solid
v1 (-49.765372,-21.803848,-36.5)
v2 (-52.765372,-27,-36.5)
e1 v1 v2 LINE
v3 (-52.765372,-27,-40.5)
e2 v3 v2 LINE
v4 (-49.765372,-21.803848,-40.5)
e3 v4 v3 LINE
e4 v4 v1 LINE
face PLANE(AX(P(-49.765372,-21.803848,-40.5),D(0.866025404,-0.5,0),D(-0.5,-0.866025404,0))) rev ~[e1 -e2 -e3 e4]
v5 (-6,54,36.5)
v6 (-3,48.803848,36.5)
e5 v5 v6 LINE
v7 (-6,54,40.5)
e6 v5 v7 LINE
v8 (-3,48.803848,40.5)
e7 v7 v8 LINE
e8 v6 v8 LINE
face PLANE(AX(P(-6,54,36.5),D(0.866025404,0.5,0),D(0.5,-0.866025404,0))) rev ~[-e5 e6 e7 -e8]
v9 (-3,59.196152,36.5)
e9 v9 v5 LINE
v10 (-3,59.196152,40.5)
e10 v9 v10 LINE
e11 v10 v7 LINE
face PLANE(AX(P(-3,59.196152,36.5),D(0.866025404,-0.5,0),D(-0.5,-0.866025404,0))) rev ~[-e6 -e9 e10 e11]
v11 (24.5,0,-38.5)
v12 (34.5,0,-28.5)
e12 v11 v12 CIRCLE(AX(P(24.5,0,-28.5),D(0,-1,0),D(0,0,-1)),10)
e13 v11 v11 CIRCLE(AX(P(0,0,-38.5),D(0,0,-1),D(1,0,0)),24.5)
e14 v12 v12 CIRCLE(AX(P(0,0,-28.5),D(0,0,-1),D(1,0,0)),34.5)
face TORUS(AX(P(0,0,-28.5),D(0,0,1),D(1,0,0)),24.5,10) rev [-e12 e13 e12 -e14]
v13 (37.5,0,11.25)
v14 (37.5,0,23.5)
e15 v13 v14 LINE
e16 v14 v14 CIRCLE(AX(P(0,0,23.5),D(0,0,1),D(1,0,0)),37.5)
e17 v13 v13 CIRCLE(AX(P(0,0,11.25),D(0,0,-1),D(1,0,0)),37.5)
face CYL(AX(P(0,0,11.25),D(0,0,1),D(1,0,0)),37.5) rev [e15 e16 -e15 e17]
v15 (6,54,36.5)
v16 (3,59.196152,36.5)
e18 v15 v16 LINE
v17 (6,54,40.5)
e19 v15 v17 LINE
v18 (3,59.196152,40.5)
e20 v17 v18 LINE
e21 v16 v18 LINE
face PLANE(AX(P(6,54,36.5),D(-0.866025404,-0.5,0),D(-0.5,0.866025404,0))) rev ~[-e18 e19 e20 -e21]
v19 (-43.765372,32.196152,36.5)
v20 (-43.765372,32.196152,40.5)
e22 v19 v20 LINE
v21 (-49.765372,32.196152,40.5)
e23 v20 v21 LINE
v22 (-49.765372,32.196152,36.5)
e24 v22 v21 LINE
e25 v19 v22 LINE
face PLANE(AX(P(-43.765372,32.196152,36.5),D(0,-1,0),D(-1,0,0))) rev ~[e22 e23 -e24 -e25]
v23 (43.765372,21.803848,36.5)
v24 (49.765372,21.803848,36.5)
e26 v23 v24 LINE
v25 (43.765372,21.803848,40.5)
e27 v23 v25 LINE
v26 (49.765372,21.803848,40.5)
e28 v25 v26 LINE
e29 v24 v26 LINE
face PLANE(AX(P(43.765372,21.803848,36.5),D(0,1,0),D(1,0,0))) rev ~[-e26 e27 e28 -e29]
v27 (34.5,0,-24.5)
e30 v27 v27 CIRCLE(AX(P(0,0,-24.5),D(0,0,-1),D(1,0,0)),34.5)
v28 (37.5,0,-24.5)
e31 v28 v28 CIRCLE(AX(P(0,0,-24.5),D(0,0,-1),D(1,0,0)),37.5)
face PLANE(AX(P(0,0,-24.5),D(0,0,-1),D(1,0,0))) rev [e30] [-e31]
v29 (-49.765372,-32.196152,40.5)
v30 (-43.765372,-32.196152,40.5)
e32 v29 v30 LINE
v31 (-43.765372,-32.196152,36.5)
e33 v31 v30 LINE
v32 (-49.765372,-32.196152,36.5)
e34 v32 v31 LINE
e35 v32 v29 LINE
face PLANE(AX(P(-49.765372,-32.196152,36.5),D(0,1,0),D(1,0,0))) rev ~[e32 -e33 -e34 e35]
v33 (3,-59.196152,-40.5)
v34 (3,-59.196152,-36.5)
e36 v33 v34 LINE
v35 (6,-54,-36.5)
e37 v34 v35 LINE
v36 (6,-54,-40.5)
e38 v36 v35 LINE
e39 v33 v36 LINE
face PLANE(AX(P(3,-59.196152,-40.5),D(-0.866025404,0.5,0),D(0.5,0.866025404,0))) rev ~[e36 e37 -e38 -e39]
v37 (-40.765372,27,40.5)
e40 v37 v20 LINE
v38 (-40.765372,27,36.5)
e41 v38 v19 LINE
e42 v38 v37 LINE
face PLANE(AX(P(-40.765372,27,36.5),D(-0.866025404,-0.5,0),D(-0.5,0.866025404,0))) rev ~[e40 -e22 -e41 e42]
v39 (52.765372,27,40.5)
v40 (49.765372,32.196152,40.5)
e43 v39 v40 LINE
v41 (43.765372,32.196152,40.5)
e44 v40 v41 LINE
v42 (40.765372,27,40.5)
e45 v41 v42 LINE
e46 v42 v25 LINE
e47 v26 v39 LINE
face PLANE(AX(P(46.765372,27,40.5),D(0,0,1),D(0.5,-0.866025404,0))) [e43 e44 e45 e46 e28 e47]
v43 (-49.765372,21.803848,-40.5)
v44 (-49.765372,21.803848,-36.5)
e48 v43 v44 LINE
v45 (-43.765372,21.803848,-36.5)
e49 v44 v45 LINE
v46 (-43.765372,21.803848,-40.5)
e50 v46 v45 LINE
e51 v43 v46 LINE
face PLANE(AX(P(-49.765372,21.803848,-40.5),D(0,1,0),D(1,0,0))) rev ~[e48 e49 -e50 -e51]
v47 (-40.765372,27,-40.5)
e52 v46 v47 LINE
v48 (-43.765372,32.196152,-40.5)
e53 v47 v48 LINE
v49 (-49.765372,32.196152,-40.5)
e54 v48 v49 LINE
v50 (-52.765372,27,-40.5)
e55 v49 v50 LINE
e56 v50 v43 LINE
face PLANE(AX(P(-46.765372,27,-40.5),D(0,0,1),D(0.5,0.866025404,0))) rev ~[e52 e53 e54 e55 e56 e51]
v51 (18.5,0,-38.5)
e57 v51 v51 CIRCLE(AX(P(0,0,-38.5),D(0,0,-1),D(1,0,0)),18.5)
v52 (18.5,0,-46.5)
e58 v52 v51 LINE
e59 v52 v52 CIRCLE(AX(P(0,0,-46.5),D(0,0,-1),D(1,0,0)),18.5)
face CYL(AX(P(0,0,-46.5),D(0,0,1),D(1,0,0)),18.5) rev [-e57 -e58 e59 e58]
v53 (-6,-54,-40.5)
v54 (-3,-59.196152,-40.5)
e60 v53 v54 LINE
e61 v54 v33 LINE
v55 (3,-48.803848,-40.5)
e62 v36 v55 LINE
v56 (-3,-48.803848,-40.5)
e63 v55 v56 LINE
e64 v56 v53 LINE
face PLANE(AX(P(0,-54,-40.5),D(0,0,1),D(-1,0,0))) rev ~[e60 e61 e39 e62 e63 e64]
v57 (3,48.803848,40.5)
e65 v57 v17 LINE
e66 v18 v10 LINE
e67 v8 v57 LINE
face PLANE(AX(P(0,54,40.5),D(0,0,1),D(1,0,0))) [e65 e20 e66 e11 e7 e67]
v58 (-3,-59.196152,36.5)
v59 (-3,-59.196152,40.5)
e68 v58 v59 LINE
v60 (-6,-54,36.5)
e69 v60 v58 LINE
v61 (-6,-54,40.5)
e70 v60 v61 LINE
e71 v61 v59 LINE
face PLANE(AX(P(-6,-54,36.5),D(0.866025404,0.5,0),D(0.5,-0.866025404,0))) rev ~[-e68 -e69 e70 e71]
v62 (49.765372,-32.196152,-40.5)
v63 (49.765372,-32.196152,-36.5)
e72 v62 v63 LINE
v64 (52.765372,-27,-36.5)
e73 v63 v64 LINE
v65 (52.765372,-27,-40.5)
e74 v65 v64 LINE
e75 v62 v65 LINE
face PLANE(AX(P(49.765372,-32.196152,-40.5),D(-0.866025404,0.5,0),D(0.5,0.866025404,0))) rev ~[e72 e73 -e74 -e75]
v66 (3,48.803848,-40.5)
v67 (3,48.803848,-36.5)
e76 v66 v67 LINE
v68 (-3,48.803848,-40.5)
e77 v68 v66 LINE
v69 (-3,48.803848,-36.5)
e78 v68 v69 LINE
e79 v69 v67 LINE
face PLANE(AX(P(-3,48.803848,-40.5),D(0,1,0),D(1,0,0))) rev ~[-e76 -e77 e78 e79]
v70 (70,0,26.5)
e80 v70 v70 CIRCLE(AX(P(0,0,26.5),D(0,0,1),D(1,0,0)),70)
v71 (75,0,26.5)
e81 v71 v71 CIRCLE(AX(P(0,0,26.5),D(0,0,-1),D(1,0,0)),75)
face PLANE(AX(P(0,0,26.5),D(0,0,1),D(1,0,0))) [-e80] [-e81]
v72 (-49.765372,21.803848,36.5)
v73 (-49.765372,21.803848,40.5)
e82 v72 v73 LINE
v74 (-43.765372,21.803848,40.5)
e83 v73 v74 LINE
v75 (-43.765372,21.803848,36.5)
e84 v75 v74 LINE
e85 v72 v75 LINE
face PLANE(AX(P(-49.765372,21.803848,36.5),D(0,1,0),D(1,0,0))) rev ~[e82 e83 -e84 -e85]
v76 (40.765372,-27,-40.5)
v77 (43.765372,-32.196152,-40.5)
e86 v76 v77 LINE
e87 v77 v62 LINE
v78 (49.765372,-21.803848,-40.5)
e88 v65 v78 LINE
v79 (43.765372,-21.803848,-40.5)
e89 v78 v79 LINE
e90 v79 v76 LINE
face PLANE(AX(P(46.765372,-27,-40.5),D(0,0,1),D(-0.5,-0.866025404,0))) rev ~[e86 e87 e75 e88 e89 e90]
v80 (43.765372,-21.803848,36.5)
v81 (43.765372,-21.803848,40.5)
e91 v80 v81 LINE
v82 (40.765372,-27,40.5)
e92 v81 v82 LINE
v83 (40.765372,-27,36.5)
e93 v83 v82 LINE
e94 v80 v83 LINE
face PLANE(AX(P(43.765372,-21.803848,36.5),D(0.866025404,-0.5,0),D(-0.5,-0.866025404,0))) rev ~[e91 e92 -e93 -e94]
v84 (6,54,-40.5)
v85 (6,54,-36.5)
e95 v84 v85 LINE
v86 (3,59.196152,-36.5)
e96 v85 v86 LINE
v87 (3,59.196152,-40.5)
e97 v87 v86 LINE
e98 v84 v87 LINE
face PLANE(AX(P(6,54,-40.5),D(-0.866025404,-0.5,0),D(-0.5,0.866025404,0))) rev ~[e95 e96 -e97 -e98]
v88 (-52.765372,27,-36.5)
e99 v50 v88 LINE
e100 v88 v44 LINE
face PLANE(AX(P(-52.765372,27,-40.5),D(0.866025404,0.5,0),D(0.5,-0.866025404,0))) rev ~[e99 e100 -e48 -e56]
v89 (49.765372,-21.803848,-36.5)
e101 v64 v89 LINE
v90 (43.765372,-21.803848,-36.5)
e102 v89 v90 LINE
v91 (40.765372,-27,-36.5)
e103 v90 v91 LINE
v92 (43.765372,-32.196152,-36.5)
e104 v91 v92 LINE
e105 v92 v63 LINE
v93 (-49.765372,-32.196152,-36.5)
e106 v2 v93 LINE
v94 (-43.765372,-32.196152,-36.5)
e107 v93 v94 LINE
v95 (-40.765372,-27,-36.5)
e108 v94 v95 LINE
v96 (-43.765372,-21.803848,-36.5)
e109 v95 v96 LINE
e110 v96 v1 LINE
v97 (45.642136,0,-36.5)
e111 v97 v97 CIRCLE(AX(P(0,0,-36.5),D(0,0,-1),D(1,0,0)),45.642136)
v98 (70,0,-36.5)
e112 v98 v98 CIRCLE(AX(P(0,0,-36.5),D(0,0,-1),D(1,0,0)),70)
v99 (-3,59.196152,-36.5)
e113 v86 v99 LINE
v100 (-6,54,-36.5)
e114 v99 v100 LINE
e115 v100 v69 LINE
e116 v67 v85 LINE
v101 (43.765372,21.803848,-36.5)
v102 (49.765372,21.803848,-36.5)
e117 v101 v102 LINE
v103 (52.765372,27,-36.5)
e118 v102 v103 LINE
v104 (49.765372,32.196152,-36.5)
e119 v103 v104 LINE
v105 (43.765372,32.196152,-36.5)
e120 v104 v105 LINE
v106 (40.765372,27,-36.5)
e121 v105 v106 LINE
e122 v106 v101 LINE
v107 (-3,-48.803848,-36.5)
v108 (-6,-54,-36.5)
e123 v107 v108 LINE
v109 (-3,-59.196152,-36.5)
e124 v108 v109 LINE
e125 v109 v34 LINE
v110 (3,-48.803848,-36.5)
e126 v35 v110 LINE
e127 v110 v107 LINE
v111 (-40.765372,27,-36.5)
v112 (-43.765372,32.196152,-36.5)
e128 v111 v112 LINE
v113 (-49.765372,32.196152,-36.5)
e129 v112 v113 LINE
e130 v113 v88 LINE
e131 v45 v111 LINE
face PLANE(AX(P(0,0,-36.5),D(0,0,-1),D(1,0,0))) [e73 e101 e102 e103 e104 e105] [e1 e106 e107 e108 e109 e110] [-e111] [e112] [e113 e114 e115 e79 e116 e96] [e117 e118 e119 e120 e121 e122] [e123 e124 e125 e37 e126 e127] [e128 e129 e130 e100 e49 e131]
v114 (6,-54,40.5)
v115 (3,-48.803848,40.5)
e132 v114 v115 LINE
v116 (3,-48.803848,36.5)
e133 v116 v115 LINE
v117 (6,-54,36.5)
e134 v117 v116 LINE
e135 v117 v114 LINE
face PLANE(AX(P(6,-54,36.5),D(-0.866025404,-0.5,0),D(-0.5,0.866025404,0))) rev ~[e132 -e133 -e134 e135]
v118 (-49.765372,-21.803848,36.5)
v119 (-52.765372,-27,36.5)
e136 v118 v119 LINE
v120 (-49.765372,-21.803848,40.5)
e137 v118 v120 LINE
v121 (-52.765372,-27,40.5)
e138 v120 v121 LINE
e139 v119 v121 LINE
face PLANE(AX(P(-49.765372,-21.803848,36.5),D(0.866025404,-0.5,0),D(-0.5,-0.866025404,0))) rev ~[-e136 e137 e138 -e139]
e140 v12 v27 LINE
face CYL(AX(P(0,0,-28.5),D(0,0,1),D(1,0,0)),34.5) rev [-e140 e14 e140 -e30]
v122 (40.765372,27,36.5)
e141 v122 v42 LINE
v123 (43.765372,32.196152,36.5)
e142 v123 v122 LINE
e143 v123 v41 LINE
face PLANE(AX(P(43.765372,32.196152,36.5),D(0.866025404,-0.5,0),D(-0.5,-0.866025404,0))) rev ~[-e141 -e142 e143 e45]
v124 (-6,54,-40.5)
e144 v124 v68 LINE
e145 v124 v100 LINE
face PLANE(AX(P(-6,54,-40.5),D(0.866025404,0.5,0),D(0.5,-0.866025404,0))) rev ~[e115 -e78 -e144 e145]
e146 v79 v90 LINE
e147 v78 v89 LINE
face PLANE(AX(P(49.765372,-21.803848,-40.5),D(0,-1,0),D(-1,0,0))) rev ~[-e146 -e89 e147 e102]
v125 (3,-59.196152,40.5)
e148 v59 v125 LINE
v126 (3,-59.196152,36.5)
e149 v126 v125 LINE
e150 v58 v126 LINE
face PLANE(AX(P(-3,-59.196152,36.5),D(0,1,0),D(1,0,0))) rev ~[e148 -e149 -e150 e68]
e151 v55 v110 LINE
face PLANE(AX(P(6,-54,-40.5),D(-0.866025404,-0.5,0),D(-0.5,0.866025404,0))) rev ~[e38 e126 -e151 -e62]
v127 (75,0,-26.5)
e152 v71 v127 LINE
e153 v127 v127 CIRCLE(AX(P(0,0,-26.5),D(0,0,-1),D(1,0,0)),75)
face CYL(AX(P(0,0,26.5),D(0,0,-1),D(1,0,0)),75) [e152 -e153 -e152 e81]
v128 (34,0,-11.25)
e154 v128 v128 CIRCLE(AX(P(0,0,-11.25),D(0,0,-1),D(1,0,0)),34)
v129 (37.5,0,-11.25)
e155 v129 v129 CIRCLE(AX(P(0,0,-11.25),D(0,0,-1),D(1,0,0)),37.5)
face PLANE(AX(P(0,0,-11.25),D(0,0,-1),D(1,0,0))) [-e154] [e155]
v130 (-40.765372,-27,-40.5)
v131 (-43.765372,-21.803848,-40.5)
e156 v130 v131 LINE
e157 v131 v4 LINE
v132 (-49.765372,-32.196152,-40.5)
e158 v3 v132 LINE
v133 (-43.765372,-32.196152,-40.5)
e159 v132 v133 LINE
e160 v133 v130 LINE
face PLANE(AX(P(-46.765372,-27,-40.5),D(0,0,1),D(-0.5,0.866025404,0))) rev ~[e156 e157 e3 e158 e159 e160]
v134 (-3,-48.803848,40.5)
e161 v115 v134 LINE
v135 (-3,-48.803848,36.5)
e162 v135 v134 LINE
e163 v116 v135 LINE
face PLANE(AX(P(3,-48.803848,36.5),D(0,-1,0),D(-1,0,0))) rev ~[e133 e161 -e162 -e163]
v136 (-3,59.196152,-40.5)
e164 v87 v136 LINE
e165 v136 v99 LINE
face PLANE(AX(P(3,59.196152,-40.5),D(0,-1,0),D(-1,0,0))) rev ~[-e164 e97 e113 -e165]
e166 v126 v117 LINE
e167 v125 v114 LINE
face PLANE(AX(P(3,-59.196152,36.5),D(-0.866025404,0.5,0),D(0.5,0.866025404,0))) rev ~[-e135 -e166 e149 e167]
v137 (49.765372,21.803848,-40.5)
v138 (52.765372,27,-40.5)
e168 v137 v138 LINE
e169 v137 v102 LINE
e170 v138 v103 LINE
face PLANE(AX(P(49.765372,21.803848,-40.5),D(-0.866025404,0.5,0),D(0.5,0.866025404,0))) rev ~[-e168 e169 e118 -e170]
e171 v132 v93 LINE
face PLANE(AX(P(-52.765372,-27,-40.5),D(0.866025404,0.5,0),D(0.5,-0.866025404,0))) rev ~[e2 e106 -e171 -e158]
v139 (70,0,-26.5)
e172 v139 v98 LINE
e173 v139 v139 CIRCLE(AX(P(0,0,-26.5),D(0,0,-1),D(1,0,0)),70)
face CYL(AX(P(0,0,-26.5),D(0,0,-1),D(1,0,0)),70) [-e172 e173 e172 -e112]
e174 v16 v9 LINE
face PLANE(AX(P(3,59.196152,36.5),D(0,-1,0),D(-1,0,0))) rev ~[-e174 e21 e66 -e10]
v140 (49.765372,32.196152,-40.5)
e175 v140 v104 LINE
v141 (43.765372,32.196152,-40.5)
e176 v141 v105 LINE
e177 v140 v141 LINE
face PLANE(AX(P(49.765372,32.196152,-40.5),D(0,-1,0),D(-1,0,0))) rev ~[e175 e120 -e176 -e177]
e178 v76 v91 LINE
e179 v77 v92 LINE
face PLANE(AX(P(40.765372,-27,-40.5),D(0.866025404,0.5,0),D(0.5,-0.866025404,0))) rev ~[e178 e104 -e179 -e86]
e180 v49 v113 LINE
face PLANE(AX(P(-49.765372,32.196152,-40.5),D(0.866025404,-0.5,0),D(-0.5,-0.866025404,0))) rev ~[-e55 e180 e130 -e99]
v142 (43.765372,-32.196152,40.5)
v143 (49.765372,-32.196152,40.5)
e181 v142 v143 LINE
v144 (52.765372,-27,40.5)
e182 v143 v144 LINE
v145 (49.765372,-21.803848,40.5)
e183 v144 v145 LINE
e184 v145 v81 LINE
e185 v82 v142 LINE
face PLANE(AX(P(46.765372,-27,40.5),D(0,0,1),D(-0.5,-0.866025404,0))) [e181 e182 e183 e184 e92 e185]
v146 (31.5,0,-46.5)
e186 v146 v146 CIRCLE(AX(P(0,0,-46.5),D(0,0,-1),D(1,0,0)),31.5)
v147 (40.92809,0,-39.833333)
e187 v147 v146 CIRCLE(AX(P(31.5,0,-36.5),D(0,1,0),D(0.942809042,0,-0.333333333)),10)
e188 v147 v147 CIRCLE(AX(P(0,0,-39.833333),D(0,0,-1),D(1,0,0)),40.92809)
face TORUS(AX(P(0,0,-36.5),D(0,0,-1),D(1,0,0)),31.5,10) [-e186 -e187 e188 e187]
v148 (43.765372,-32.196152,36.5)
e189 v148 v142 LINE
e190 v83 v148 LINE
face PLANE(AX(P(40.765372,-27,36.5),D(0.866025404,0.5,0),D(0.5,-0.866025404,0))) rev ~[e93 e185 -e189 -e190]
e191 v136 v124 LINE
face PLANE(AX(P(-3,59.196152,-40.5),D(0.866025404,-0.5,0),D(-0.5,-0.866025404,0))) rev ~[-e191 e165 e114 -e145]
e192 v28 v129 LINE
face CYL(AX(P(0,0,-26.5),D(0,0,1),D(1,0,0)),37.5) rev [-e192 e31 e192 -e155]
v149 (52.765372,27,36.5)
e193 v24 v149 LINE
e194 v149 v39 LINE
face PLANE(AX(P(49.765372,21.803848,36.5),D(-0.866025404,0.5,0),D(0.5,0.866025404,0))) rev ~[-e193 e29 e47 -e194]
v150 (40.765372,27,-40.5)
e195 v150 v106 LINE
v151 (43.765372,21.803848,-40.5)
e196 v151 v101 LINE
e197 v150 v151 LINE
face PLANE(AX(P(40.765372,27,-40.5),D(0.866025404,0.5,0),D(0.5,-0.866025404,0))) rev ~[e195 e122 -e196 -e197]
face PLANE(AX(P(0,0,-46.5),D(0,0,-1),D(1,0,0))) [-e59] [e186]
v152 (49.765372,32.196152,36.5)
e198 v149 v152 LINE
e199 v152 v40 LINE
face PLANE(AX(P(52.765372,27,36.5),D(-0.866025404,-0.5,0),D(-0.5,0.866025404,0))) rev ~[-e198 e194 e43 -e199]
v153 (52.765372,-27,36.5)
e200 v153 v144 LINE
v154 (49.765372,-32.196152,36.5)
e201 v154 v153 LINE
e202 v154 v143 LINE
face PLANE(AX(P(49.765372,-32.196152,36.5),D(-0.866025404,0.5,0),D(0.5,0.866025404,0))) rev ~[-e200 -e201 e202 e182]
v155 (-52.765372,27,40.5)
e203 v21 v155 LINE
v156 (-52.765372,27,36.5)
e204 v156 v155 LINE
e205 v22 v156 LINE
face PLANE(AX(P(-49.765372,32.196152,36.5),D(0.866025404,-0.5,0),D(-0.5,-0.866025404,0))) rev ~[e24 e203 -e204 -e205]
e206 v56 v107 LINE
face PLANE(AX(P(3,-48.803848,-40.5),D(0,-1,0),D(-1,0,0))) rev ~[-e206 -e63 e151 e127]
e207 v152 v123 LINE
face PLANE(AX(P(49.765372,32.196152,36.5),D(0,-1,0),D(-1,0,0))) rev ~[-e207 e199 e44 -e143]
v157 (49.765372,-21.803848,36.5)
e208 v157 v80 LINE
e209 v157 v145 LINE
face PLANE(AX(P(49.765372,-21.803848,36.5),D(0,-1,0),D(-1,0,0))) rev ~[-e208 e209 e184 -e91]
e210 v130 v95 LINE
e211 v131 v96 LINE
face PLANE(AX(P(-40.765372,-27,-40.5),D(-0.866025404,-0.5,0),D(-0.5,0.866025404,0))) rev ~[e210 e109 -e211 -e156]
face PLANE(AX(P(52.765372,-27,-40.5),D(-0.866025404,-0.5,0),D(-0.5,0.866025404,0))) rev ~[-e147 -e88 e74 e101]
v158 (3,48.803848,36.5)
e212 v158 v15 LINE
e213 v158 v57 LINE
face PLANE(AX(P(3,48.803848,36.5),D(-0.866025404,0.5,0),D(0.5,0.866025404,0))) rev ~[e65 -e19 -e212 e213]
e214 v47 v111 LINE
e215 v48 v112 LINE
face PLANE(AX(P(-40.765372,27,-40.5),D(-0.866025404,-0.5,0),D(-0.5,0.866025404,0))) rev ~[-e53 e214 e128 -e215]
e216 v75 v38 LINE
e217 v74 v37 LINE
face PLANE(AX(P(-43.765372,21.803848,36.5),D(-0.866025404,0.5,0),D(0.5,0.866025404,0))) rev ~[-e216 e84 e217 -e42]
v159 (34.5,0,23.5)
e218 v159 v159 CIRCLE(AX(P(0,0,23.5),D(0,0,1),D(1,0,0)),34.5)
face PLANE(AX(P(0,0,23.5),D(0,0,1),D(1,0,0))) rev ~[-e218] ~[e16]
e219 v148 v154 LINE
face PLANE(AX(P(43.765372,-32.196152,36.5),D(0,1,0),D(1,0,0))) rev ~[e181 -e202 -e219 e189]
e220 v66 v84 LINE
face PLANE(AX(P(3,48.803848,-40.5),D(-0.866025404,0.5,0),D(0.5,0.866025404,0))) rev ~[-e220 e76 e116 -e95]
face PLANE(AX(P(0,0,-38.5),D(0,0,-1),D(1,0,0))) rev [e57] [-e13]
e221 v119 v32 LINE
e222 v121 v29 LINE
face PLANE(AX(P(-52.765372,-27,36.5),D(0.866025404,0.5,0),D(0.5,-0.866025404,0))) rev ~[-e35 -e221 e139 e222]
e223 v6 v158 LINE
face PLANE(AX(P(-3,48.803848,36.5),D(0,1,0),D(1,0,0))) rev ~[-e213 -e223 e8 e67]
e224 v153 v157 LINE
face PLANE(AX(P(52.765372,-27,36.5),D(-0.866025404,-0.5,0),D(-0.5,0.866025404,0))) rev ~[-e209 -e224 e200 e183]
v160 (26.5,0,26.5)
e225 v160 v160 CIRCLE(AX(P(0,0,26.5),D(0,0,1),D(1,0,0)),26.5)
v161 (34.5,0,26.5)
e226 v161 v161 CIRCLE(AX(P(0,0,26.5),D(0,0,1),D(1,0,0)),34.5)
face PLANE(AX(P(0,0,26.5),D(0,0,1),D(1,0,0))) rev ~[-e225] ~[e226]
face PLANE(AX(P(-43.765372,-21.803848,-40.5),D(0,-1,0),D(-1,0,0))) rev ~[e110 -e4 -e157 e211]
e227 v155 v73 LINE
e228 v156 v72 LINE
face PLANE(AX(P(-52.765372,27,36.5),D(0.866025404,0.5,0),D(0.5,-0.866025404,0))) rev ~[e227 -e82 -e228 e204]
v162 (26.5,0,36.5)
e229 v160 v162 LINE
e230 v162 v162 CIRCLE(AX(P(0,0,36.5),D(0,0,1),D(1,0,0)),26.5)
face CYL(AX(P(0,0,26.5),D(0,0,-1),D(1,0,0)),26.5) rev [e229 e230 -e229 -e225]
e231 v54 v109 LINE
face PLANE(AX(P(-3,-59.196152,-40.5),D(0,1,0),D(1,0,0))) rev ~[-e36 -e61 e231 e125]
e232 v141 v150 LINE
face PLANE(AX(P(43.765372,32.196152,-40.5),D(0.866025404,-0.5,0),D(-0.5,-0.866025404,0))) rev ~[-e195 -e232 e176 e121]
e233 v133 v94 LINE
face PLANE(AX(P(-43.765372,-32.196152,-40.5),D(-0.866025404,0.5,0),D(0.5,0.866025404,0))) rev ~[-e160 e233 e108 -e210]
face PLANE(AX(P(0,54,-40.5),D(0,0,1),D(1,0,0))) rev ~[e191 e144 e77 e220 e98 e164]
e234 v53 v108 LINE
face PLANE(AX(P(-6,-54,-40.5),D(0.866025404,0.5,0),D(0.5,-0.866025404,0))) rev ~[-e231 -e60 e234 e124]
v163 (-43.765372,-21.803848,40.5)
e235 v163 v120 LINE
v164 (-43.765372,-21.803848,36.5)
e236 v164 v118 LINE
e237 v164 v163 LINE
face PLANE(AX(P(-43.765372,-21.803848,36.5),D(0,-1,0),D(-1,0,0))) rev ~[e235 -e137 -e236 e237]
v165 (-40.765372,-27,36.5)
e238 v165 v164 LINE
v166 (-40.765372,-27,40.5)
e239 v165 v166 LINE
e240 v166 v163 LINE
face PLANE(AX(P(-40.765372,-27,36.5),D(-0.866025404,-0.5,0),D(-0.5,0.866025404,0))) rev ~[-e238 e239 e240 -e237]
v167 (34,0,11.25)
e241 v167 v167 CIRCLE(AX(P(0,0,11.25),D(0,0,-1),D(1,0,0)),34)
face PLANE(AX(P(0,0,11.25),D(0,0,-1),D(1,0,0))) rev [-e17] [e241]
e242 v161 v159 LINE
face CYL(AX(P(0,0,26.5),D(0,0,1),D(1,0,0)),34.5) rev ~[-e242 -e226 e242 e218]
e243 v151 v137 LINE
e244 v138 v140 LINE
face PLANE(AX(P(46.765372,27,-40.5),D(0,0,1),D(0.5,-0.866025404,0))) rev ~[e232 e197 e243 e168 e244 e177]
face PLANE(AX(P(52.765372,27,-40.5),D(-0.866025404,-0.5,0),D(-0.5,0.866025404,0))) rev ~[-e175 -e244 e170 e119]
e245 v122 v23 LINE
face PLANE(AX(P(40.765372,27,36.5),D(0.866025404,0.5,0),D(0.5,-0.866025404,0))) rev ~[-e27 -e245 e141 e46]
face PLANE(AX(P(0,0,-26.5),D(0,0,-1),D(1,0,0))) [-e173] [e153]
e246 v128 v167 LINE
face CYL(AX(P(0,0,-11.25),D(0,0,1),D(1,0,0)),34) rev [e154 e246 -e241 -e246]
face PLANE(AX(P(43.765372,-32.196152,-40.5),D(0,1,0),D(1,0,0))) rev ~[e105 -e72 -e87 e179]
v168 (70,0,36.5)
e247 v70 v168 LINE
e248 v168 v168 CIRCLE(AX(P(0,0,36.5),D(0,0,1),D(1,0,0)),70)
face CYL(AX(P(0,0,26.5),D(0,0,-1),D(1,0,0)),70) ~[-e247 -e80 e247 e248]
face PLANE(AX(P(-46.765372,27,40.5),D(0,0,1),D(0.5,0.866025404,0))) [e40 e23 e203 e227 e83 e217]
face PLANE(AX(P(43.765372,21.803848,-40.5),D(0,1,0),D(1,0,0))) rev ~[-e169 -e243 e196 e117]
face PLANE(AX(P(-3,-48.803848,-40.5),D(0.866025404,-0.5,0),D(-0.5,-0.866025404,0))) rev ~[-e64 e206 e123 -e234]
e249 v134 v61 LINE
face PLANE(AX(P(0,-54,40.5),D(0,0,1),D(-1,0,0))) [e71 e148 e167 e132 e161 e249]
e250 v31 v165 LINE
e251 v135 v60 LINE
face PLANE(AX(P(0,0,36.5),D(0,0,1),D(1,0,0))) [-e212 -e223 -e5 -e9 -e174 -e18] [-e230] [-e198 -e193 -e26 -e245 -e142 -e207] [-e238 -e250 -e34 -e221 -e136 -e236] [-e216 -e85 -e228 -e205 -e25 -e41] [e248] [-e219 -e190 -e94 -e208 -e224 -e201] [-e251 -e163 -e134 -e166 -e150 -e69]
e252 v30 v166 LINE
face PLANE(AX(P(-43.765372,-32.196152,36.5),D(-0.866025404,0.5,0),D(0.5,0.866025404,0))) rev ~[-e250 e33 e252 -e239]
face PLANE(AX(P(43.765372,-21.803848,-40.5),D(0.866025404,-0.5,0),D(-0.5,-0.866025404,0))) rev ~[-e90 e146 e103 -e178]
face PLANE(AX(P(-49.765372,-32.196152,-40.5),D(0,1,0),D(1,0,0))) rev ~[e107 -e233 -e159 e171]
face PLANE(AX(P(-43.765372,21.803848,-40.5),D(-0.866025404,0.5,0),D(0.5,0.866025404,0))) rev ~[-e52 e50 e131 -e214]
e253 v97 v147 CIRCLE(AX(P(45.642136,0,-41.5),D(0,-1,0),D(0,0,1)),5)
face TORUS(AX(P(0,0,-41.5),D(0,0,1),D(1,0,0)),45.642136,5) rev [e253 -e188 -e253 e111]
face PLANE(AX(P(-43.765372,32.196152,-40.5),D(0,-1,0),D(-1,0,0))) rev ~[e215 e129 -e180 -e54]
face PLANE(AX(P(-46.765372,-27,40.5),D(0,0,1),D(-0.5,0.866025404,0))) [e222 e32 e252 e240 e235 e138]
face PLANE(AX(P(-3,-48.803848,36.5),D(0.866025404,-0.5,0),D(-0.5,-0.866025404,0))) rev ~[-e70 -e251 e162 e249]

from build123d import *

# Parameters (mm, degrees)
SKETCH_2_R                    = 37.5
SKETCH_2_R_2                  = 34.5
EXTRUDE_1_DEPTH               = 3
SKETCH_3_R                    = 70
SKETCH_3_R_2                  = 26.5
EXTRUDE_2_DEPTH               = 10
EXTRUDE_3_DEPTH               = 4
PATTERN_CIRCULAR_1_COUNT      = 6
PATTERN_LINEAR_1_COUNT        = 2
PATTERN_LINEAR_1_PITCH        = 77
PATTERN_LINEAR_1_COPY_1_DEPTH = 4
PATTERN_LINEAR_1_COPY_2_DEPTH = 4
PATTERN_LINEAR_1_COPY_3_DEPTH = 4
PATTERN_LINEAR_1_COPY_4_DEPTH = 4
PATTERN_LINEAR_1_COPY_5_DEPTH = 4


with BuildPart() as part:
    # 草图1 → 旋转1 (revolve)
    with BuildSketch(Plane(origin=(0, 0, 0), x_dir=(1, 0, 0), z_dir=(0, 1, 0))):
        Polygon((37.5, 26.5), (37.5, 11.25), (34, 11.25), (34, -11.25), (37.5, -11.25), (37.5, -26.5), (75, -26.5), (75, 26.5), align=None)
    revolve(axis=Axis((0, 0, 1000), (0, 0, -1)))

    # 草图2 → 凸台-拉伸1 (add)
    with BuildSketch(Plane.XY.offset(26.5)):
        Circle(SKETCH_2_R)
        Circle(SKETCH_2_R_2, mode=Mode.SUBTRACT)
    extrude(amount=-EXTRUDE_1_DEPTH)

    # 草图3 → 凸台-拉伸2 (add)
    with BuildSketch(Plane.XY.offset(26.5)):
        Circle(SKETCH_3_R)
        Circle(SKETCH_3_R_2, mode=Mode.SUBTRACT)
    extrude(amount=EXTRUDE_2_DEPTH)

    # 草图4 → 旋转2 (revolve)
    with BuildSketch(Plane(origin=(0, 0, 0), x_dir=(0, 0, -1), z_dir=(1, 0, 0)), mode=Mode.PRIVATE) as revolve_2_sk:
        with BuildLine():
            Line((26.5, 37.5), (26.5, 70))
            Line((26.5, 70), (36.5, 70))
            Line((36.5, 70), (36.5, 45.642135624))
            ThreePointArc((36.5, 45.642135624), (37.417517095, 42.755384278), (39.833333333, 40.928090416))
            ThreePointArc((39.833333333, 40.928090416), (44.664965809, 37.273502692), (46.5, 31.5))
            Line((46.5, 31.5), (46.5, 18.5))
            Line((46.5, 18.5), (38.5, 18.5))
            Line((38.5, 18.5), (38.5, 24.5))
            ThreePointArc((38.5, 24.5), (35.571067812, 31.571067812), (28.5, 34.5))
            Line((28.5, 34.5), (24.5, 34.5))
            Line((24.5, 34.5), (24.5, 37.5))
            Line((24.5, 37.5), (26.5, 37.5))
        make_face()
    revolve(revolve_2_sk.sketch.rotate(Axis((0, 0, 1000), (0, 0, -1)), 90), axis=Axis((0, 0, 1000), (0, 0, -1)))

    # 草图5 → 凸台-拉伸3 (add)
    with BuildSketch(Plane.XY.offset(36.5)):
        Polygon((3, 48.803847577), (6, 54), (3, 59.196152423), (-3, 59.196152423), (-6, 54), (-3, 48.803847577), align=None)
    extrude_3 = extrude(amount=EXTRUDE_3_DEPTH)

    # 阵列(圆周)1: 凸台-拉伸3 ×6 about axis
    pattern_circular_1_axis = Axis((0, 0, 0), (0, 0, 1))
    for i in range(1, PATTERN_CIRCULAR_1_COUNT):
        add(extrude_3.rotate(pattern_circular_1_axis, i * 360 / PATTERN_CIRCULAR_1_COUNT))

    # 阵列(线性)1: 凸台-拉伸3 ×2
    with Locations(*[(0, 0, -i * PATTERN_LINEAR_1_PITCH) for i in range(1, PATTERN_LINEAR_1_COUNT)]):
        add(extrude_3)

    # 阵列(线性)1 copy 1 sketch → 阵列(线性)1 copy 1 (add)
    with BuildSketch(Plane(origin=(0, 0, -40.5), x_dir=(0.5000000000000001, 0.8660254037844386, 0), z_dir=(0, 0, 1))):
        Polygon((3, 48.803847577), (6, 54), (3, 59.196152423), (-3, 59.196152423), (-6, 54), (-3, 48.803847577), align=None)
    extrude(amount=PATTERN_LINEAR_1_COPY_1_DEPTH)

    # 阵列(线性)1 copy 2 sketch → 阵列(线性)1 copy 2 (add)
    with BuildSketch(Plane(origin=(0, 0, -40.5), x_dir=(-0.4999999999999998, 0.8660254037844387, 0), z_dir=(0, 0, 1))):
        Polygon((3, 48.803847577), (6, 54), (3, 59.196152423), (-3, 59.196152423), (-6, 54), (-3, 48.803847577), align=None)
    extrude(amount=PATTERN_LINEAR_1_COPY_2_DEPTH)

    # 阵列(线性)1 copy 3 sketch → 阵列(线性)1 copy 3 (add)
    with BuildSketch(Plane(origin=(0, 0, -40.5), x_dir=(-1, 0, 0), z_dir=(0, 0, 1))):
        Polygon((3, 48.803847577), (6, 54), (3, 59.196152423), (-3, 59.196152423), (-6, 54), (-3, 48.803847577), align=None)
    extrude(amount=PATTERN_LINEAR_1_COPY_3_DEPTH)

    # 阵列(线性)1 copy 4 sketch → 阵列(线性)1 copy 4 (add)
    with BuildSketch(Plane(origin=(0, 0, -40.5), x_dir=(-0.5000000000000004, -0.8660254037844384, 0), z_dir=(0, 0, 1))):
        Polygon((3, 48.803847577), (6, 54), (3, 59.196152423), (-3, 59.196152423), (-6, 54), (-3, 48.803847577), align=None)
    extrude(amount=PATTERN_LINEAR_1_COPY_4_DEPTH)

    # 阵列(线性)1 copy 5 sketch → 阵列(线性)1 copy 5 (add)
    with BuildSketch(Plane(origin=(0, 0, -40.5), x_dir=(0.5000000000000001, -0.8660254037844386, 0), z_dir=(0, 0, 1))):
        Polygon((3, 48.803847577), (6, 54), (3, 59.196152423), (-3, 59.196152423), (-6, 54), (-3, 48.803847577), align=None)
    extrude(amount=PATTERN_LINEAR_1_COPY_5_DEPTH)


solid = part.part
